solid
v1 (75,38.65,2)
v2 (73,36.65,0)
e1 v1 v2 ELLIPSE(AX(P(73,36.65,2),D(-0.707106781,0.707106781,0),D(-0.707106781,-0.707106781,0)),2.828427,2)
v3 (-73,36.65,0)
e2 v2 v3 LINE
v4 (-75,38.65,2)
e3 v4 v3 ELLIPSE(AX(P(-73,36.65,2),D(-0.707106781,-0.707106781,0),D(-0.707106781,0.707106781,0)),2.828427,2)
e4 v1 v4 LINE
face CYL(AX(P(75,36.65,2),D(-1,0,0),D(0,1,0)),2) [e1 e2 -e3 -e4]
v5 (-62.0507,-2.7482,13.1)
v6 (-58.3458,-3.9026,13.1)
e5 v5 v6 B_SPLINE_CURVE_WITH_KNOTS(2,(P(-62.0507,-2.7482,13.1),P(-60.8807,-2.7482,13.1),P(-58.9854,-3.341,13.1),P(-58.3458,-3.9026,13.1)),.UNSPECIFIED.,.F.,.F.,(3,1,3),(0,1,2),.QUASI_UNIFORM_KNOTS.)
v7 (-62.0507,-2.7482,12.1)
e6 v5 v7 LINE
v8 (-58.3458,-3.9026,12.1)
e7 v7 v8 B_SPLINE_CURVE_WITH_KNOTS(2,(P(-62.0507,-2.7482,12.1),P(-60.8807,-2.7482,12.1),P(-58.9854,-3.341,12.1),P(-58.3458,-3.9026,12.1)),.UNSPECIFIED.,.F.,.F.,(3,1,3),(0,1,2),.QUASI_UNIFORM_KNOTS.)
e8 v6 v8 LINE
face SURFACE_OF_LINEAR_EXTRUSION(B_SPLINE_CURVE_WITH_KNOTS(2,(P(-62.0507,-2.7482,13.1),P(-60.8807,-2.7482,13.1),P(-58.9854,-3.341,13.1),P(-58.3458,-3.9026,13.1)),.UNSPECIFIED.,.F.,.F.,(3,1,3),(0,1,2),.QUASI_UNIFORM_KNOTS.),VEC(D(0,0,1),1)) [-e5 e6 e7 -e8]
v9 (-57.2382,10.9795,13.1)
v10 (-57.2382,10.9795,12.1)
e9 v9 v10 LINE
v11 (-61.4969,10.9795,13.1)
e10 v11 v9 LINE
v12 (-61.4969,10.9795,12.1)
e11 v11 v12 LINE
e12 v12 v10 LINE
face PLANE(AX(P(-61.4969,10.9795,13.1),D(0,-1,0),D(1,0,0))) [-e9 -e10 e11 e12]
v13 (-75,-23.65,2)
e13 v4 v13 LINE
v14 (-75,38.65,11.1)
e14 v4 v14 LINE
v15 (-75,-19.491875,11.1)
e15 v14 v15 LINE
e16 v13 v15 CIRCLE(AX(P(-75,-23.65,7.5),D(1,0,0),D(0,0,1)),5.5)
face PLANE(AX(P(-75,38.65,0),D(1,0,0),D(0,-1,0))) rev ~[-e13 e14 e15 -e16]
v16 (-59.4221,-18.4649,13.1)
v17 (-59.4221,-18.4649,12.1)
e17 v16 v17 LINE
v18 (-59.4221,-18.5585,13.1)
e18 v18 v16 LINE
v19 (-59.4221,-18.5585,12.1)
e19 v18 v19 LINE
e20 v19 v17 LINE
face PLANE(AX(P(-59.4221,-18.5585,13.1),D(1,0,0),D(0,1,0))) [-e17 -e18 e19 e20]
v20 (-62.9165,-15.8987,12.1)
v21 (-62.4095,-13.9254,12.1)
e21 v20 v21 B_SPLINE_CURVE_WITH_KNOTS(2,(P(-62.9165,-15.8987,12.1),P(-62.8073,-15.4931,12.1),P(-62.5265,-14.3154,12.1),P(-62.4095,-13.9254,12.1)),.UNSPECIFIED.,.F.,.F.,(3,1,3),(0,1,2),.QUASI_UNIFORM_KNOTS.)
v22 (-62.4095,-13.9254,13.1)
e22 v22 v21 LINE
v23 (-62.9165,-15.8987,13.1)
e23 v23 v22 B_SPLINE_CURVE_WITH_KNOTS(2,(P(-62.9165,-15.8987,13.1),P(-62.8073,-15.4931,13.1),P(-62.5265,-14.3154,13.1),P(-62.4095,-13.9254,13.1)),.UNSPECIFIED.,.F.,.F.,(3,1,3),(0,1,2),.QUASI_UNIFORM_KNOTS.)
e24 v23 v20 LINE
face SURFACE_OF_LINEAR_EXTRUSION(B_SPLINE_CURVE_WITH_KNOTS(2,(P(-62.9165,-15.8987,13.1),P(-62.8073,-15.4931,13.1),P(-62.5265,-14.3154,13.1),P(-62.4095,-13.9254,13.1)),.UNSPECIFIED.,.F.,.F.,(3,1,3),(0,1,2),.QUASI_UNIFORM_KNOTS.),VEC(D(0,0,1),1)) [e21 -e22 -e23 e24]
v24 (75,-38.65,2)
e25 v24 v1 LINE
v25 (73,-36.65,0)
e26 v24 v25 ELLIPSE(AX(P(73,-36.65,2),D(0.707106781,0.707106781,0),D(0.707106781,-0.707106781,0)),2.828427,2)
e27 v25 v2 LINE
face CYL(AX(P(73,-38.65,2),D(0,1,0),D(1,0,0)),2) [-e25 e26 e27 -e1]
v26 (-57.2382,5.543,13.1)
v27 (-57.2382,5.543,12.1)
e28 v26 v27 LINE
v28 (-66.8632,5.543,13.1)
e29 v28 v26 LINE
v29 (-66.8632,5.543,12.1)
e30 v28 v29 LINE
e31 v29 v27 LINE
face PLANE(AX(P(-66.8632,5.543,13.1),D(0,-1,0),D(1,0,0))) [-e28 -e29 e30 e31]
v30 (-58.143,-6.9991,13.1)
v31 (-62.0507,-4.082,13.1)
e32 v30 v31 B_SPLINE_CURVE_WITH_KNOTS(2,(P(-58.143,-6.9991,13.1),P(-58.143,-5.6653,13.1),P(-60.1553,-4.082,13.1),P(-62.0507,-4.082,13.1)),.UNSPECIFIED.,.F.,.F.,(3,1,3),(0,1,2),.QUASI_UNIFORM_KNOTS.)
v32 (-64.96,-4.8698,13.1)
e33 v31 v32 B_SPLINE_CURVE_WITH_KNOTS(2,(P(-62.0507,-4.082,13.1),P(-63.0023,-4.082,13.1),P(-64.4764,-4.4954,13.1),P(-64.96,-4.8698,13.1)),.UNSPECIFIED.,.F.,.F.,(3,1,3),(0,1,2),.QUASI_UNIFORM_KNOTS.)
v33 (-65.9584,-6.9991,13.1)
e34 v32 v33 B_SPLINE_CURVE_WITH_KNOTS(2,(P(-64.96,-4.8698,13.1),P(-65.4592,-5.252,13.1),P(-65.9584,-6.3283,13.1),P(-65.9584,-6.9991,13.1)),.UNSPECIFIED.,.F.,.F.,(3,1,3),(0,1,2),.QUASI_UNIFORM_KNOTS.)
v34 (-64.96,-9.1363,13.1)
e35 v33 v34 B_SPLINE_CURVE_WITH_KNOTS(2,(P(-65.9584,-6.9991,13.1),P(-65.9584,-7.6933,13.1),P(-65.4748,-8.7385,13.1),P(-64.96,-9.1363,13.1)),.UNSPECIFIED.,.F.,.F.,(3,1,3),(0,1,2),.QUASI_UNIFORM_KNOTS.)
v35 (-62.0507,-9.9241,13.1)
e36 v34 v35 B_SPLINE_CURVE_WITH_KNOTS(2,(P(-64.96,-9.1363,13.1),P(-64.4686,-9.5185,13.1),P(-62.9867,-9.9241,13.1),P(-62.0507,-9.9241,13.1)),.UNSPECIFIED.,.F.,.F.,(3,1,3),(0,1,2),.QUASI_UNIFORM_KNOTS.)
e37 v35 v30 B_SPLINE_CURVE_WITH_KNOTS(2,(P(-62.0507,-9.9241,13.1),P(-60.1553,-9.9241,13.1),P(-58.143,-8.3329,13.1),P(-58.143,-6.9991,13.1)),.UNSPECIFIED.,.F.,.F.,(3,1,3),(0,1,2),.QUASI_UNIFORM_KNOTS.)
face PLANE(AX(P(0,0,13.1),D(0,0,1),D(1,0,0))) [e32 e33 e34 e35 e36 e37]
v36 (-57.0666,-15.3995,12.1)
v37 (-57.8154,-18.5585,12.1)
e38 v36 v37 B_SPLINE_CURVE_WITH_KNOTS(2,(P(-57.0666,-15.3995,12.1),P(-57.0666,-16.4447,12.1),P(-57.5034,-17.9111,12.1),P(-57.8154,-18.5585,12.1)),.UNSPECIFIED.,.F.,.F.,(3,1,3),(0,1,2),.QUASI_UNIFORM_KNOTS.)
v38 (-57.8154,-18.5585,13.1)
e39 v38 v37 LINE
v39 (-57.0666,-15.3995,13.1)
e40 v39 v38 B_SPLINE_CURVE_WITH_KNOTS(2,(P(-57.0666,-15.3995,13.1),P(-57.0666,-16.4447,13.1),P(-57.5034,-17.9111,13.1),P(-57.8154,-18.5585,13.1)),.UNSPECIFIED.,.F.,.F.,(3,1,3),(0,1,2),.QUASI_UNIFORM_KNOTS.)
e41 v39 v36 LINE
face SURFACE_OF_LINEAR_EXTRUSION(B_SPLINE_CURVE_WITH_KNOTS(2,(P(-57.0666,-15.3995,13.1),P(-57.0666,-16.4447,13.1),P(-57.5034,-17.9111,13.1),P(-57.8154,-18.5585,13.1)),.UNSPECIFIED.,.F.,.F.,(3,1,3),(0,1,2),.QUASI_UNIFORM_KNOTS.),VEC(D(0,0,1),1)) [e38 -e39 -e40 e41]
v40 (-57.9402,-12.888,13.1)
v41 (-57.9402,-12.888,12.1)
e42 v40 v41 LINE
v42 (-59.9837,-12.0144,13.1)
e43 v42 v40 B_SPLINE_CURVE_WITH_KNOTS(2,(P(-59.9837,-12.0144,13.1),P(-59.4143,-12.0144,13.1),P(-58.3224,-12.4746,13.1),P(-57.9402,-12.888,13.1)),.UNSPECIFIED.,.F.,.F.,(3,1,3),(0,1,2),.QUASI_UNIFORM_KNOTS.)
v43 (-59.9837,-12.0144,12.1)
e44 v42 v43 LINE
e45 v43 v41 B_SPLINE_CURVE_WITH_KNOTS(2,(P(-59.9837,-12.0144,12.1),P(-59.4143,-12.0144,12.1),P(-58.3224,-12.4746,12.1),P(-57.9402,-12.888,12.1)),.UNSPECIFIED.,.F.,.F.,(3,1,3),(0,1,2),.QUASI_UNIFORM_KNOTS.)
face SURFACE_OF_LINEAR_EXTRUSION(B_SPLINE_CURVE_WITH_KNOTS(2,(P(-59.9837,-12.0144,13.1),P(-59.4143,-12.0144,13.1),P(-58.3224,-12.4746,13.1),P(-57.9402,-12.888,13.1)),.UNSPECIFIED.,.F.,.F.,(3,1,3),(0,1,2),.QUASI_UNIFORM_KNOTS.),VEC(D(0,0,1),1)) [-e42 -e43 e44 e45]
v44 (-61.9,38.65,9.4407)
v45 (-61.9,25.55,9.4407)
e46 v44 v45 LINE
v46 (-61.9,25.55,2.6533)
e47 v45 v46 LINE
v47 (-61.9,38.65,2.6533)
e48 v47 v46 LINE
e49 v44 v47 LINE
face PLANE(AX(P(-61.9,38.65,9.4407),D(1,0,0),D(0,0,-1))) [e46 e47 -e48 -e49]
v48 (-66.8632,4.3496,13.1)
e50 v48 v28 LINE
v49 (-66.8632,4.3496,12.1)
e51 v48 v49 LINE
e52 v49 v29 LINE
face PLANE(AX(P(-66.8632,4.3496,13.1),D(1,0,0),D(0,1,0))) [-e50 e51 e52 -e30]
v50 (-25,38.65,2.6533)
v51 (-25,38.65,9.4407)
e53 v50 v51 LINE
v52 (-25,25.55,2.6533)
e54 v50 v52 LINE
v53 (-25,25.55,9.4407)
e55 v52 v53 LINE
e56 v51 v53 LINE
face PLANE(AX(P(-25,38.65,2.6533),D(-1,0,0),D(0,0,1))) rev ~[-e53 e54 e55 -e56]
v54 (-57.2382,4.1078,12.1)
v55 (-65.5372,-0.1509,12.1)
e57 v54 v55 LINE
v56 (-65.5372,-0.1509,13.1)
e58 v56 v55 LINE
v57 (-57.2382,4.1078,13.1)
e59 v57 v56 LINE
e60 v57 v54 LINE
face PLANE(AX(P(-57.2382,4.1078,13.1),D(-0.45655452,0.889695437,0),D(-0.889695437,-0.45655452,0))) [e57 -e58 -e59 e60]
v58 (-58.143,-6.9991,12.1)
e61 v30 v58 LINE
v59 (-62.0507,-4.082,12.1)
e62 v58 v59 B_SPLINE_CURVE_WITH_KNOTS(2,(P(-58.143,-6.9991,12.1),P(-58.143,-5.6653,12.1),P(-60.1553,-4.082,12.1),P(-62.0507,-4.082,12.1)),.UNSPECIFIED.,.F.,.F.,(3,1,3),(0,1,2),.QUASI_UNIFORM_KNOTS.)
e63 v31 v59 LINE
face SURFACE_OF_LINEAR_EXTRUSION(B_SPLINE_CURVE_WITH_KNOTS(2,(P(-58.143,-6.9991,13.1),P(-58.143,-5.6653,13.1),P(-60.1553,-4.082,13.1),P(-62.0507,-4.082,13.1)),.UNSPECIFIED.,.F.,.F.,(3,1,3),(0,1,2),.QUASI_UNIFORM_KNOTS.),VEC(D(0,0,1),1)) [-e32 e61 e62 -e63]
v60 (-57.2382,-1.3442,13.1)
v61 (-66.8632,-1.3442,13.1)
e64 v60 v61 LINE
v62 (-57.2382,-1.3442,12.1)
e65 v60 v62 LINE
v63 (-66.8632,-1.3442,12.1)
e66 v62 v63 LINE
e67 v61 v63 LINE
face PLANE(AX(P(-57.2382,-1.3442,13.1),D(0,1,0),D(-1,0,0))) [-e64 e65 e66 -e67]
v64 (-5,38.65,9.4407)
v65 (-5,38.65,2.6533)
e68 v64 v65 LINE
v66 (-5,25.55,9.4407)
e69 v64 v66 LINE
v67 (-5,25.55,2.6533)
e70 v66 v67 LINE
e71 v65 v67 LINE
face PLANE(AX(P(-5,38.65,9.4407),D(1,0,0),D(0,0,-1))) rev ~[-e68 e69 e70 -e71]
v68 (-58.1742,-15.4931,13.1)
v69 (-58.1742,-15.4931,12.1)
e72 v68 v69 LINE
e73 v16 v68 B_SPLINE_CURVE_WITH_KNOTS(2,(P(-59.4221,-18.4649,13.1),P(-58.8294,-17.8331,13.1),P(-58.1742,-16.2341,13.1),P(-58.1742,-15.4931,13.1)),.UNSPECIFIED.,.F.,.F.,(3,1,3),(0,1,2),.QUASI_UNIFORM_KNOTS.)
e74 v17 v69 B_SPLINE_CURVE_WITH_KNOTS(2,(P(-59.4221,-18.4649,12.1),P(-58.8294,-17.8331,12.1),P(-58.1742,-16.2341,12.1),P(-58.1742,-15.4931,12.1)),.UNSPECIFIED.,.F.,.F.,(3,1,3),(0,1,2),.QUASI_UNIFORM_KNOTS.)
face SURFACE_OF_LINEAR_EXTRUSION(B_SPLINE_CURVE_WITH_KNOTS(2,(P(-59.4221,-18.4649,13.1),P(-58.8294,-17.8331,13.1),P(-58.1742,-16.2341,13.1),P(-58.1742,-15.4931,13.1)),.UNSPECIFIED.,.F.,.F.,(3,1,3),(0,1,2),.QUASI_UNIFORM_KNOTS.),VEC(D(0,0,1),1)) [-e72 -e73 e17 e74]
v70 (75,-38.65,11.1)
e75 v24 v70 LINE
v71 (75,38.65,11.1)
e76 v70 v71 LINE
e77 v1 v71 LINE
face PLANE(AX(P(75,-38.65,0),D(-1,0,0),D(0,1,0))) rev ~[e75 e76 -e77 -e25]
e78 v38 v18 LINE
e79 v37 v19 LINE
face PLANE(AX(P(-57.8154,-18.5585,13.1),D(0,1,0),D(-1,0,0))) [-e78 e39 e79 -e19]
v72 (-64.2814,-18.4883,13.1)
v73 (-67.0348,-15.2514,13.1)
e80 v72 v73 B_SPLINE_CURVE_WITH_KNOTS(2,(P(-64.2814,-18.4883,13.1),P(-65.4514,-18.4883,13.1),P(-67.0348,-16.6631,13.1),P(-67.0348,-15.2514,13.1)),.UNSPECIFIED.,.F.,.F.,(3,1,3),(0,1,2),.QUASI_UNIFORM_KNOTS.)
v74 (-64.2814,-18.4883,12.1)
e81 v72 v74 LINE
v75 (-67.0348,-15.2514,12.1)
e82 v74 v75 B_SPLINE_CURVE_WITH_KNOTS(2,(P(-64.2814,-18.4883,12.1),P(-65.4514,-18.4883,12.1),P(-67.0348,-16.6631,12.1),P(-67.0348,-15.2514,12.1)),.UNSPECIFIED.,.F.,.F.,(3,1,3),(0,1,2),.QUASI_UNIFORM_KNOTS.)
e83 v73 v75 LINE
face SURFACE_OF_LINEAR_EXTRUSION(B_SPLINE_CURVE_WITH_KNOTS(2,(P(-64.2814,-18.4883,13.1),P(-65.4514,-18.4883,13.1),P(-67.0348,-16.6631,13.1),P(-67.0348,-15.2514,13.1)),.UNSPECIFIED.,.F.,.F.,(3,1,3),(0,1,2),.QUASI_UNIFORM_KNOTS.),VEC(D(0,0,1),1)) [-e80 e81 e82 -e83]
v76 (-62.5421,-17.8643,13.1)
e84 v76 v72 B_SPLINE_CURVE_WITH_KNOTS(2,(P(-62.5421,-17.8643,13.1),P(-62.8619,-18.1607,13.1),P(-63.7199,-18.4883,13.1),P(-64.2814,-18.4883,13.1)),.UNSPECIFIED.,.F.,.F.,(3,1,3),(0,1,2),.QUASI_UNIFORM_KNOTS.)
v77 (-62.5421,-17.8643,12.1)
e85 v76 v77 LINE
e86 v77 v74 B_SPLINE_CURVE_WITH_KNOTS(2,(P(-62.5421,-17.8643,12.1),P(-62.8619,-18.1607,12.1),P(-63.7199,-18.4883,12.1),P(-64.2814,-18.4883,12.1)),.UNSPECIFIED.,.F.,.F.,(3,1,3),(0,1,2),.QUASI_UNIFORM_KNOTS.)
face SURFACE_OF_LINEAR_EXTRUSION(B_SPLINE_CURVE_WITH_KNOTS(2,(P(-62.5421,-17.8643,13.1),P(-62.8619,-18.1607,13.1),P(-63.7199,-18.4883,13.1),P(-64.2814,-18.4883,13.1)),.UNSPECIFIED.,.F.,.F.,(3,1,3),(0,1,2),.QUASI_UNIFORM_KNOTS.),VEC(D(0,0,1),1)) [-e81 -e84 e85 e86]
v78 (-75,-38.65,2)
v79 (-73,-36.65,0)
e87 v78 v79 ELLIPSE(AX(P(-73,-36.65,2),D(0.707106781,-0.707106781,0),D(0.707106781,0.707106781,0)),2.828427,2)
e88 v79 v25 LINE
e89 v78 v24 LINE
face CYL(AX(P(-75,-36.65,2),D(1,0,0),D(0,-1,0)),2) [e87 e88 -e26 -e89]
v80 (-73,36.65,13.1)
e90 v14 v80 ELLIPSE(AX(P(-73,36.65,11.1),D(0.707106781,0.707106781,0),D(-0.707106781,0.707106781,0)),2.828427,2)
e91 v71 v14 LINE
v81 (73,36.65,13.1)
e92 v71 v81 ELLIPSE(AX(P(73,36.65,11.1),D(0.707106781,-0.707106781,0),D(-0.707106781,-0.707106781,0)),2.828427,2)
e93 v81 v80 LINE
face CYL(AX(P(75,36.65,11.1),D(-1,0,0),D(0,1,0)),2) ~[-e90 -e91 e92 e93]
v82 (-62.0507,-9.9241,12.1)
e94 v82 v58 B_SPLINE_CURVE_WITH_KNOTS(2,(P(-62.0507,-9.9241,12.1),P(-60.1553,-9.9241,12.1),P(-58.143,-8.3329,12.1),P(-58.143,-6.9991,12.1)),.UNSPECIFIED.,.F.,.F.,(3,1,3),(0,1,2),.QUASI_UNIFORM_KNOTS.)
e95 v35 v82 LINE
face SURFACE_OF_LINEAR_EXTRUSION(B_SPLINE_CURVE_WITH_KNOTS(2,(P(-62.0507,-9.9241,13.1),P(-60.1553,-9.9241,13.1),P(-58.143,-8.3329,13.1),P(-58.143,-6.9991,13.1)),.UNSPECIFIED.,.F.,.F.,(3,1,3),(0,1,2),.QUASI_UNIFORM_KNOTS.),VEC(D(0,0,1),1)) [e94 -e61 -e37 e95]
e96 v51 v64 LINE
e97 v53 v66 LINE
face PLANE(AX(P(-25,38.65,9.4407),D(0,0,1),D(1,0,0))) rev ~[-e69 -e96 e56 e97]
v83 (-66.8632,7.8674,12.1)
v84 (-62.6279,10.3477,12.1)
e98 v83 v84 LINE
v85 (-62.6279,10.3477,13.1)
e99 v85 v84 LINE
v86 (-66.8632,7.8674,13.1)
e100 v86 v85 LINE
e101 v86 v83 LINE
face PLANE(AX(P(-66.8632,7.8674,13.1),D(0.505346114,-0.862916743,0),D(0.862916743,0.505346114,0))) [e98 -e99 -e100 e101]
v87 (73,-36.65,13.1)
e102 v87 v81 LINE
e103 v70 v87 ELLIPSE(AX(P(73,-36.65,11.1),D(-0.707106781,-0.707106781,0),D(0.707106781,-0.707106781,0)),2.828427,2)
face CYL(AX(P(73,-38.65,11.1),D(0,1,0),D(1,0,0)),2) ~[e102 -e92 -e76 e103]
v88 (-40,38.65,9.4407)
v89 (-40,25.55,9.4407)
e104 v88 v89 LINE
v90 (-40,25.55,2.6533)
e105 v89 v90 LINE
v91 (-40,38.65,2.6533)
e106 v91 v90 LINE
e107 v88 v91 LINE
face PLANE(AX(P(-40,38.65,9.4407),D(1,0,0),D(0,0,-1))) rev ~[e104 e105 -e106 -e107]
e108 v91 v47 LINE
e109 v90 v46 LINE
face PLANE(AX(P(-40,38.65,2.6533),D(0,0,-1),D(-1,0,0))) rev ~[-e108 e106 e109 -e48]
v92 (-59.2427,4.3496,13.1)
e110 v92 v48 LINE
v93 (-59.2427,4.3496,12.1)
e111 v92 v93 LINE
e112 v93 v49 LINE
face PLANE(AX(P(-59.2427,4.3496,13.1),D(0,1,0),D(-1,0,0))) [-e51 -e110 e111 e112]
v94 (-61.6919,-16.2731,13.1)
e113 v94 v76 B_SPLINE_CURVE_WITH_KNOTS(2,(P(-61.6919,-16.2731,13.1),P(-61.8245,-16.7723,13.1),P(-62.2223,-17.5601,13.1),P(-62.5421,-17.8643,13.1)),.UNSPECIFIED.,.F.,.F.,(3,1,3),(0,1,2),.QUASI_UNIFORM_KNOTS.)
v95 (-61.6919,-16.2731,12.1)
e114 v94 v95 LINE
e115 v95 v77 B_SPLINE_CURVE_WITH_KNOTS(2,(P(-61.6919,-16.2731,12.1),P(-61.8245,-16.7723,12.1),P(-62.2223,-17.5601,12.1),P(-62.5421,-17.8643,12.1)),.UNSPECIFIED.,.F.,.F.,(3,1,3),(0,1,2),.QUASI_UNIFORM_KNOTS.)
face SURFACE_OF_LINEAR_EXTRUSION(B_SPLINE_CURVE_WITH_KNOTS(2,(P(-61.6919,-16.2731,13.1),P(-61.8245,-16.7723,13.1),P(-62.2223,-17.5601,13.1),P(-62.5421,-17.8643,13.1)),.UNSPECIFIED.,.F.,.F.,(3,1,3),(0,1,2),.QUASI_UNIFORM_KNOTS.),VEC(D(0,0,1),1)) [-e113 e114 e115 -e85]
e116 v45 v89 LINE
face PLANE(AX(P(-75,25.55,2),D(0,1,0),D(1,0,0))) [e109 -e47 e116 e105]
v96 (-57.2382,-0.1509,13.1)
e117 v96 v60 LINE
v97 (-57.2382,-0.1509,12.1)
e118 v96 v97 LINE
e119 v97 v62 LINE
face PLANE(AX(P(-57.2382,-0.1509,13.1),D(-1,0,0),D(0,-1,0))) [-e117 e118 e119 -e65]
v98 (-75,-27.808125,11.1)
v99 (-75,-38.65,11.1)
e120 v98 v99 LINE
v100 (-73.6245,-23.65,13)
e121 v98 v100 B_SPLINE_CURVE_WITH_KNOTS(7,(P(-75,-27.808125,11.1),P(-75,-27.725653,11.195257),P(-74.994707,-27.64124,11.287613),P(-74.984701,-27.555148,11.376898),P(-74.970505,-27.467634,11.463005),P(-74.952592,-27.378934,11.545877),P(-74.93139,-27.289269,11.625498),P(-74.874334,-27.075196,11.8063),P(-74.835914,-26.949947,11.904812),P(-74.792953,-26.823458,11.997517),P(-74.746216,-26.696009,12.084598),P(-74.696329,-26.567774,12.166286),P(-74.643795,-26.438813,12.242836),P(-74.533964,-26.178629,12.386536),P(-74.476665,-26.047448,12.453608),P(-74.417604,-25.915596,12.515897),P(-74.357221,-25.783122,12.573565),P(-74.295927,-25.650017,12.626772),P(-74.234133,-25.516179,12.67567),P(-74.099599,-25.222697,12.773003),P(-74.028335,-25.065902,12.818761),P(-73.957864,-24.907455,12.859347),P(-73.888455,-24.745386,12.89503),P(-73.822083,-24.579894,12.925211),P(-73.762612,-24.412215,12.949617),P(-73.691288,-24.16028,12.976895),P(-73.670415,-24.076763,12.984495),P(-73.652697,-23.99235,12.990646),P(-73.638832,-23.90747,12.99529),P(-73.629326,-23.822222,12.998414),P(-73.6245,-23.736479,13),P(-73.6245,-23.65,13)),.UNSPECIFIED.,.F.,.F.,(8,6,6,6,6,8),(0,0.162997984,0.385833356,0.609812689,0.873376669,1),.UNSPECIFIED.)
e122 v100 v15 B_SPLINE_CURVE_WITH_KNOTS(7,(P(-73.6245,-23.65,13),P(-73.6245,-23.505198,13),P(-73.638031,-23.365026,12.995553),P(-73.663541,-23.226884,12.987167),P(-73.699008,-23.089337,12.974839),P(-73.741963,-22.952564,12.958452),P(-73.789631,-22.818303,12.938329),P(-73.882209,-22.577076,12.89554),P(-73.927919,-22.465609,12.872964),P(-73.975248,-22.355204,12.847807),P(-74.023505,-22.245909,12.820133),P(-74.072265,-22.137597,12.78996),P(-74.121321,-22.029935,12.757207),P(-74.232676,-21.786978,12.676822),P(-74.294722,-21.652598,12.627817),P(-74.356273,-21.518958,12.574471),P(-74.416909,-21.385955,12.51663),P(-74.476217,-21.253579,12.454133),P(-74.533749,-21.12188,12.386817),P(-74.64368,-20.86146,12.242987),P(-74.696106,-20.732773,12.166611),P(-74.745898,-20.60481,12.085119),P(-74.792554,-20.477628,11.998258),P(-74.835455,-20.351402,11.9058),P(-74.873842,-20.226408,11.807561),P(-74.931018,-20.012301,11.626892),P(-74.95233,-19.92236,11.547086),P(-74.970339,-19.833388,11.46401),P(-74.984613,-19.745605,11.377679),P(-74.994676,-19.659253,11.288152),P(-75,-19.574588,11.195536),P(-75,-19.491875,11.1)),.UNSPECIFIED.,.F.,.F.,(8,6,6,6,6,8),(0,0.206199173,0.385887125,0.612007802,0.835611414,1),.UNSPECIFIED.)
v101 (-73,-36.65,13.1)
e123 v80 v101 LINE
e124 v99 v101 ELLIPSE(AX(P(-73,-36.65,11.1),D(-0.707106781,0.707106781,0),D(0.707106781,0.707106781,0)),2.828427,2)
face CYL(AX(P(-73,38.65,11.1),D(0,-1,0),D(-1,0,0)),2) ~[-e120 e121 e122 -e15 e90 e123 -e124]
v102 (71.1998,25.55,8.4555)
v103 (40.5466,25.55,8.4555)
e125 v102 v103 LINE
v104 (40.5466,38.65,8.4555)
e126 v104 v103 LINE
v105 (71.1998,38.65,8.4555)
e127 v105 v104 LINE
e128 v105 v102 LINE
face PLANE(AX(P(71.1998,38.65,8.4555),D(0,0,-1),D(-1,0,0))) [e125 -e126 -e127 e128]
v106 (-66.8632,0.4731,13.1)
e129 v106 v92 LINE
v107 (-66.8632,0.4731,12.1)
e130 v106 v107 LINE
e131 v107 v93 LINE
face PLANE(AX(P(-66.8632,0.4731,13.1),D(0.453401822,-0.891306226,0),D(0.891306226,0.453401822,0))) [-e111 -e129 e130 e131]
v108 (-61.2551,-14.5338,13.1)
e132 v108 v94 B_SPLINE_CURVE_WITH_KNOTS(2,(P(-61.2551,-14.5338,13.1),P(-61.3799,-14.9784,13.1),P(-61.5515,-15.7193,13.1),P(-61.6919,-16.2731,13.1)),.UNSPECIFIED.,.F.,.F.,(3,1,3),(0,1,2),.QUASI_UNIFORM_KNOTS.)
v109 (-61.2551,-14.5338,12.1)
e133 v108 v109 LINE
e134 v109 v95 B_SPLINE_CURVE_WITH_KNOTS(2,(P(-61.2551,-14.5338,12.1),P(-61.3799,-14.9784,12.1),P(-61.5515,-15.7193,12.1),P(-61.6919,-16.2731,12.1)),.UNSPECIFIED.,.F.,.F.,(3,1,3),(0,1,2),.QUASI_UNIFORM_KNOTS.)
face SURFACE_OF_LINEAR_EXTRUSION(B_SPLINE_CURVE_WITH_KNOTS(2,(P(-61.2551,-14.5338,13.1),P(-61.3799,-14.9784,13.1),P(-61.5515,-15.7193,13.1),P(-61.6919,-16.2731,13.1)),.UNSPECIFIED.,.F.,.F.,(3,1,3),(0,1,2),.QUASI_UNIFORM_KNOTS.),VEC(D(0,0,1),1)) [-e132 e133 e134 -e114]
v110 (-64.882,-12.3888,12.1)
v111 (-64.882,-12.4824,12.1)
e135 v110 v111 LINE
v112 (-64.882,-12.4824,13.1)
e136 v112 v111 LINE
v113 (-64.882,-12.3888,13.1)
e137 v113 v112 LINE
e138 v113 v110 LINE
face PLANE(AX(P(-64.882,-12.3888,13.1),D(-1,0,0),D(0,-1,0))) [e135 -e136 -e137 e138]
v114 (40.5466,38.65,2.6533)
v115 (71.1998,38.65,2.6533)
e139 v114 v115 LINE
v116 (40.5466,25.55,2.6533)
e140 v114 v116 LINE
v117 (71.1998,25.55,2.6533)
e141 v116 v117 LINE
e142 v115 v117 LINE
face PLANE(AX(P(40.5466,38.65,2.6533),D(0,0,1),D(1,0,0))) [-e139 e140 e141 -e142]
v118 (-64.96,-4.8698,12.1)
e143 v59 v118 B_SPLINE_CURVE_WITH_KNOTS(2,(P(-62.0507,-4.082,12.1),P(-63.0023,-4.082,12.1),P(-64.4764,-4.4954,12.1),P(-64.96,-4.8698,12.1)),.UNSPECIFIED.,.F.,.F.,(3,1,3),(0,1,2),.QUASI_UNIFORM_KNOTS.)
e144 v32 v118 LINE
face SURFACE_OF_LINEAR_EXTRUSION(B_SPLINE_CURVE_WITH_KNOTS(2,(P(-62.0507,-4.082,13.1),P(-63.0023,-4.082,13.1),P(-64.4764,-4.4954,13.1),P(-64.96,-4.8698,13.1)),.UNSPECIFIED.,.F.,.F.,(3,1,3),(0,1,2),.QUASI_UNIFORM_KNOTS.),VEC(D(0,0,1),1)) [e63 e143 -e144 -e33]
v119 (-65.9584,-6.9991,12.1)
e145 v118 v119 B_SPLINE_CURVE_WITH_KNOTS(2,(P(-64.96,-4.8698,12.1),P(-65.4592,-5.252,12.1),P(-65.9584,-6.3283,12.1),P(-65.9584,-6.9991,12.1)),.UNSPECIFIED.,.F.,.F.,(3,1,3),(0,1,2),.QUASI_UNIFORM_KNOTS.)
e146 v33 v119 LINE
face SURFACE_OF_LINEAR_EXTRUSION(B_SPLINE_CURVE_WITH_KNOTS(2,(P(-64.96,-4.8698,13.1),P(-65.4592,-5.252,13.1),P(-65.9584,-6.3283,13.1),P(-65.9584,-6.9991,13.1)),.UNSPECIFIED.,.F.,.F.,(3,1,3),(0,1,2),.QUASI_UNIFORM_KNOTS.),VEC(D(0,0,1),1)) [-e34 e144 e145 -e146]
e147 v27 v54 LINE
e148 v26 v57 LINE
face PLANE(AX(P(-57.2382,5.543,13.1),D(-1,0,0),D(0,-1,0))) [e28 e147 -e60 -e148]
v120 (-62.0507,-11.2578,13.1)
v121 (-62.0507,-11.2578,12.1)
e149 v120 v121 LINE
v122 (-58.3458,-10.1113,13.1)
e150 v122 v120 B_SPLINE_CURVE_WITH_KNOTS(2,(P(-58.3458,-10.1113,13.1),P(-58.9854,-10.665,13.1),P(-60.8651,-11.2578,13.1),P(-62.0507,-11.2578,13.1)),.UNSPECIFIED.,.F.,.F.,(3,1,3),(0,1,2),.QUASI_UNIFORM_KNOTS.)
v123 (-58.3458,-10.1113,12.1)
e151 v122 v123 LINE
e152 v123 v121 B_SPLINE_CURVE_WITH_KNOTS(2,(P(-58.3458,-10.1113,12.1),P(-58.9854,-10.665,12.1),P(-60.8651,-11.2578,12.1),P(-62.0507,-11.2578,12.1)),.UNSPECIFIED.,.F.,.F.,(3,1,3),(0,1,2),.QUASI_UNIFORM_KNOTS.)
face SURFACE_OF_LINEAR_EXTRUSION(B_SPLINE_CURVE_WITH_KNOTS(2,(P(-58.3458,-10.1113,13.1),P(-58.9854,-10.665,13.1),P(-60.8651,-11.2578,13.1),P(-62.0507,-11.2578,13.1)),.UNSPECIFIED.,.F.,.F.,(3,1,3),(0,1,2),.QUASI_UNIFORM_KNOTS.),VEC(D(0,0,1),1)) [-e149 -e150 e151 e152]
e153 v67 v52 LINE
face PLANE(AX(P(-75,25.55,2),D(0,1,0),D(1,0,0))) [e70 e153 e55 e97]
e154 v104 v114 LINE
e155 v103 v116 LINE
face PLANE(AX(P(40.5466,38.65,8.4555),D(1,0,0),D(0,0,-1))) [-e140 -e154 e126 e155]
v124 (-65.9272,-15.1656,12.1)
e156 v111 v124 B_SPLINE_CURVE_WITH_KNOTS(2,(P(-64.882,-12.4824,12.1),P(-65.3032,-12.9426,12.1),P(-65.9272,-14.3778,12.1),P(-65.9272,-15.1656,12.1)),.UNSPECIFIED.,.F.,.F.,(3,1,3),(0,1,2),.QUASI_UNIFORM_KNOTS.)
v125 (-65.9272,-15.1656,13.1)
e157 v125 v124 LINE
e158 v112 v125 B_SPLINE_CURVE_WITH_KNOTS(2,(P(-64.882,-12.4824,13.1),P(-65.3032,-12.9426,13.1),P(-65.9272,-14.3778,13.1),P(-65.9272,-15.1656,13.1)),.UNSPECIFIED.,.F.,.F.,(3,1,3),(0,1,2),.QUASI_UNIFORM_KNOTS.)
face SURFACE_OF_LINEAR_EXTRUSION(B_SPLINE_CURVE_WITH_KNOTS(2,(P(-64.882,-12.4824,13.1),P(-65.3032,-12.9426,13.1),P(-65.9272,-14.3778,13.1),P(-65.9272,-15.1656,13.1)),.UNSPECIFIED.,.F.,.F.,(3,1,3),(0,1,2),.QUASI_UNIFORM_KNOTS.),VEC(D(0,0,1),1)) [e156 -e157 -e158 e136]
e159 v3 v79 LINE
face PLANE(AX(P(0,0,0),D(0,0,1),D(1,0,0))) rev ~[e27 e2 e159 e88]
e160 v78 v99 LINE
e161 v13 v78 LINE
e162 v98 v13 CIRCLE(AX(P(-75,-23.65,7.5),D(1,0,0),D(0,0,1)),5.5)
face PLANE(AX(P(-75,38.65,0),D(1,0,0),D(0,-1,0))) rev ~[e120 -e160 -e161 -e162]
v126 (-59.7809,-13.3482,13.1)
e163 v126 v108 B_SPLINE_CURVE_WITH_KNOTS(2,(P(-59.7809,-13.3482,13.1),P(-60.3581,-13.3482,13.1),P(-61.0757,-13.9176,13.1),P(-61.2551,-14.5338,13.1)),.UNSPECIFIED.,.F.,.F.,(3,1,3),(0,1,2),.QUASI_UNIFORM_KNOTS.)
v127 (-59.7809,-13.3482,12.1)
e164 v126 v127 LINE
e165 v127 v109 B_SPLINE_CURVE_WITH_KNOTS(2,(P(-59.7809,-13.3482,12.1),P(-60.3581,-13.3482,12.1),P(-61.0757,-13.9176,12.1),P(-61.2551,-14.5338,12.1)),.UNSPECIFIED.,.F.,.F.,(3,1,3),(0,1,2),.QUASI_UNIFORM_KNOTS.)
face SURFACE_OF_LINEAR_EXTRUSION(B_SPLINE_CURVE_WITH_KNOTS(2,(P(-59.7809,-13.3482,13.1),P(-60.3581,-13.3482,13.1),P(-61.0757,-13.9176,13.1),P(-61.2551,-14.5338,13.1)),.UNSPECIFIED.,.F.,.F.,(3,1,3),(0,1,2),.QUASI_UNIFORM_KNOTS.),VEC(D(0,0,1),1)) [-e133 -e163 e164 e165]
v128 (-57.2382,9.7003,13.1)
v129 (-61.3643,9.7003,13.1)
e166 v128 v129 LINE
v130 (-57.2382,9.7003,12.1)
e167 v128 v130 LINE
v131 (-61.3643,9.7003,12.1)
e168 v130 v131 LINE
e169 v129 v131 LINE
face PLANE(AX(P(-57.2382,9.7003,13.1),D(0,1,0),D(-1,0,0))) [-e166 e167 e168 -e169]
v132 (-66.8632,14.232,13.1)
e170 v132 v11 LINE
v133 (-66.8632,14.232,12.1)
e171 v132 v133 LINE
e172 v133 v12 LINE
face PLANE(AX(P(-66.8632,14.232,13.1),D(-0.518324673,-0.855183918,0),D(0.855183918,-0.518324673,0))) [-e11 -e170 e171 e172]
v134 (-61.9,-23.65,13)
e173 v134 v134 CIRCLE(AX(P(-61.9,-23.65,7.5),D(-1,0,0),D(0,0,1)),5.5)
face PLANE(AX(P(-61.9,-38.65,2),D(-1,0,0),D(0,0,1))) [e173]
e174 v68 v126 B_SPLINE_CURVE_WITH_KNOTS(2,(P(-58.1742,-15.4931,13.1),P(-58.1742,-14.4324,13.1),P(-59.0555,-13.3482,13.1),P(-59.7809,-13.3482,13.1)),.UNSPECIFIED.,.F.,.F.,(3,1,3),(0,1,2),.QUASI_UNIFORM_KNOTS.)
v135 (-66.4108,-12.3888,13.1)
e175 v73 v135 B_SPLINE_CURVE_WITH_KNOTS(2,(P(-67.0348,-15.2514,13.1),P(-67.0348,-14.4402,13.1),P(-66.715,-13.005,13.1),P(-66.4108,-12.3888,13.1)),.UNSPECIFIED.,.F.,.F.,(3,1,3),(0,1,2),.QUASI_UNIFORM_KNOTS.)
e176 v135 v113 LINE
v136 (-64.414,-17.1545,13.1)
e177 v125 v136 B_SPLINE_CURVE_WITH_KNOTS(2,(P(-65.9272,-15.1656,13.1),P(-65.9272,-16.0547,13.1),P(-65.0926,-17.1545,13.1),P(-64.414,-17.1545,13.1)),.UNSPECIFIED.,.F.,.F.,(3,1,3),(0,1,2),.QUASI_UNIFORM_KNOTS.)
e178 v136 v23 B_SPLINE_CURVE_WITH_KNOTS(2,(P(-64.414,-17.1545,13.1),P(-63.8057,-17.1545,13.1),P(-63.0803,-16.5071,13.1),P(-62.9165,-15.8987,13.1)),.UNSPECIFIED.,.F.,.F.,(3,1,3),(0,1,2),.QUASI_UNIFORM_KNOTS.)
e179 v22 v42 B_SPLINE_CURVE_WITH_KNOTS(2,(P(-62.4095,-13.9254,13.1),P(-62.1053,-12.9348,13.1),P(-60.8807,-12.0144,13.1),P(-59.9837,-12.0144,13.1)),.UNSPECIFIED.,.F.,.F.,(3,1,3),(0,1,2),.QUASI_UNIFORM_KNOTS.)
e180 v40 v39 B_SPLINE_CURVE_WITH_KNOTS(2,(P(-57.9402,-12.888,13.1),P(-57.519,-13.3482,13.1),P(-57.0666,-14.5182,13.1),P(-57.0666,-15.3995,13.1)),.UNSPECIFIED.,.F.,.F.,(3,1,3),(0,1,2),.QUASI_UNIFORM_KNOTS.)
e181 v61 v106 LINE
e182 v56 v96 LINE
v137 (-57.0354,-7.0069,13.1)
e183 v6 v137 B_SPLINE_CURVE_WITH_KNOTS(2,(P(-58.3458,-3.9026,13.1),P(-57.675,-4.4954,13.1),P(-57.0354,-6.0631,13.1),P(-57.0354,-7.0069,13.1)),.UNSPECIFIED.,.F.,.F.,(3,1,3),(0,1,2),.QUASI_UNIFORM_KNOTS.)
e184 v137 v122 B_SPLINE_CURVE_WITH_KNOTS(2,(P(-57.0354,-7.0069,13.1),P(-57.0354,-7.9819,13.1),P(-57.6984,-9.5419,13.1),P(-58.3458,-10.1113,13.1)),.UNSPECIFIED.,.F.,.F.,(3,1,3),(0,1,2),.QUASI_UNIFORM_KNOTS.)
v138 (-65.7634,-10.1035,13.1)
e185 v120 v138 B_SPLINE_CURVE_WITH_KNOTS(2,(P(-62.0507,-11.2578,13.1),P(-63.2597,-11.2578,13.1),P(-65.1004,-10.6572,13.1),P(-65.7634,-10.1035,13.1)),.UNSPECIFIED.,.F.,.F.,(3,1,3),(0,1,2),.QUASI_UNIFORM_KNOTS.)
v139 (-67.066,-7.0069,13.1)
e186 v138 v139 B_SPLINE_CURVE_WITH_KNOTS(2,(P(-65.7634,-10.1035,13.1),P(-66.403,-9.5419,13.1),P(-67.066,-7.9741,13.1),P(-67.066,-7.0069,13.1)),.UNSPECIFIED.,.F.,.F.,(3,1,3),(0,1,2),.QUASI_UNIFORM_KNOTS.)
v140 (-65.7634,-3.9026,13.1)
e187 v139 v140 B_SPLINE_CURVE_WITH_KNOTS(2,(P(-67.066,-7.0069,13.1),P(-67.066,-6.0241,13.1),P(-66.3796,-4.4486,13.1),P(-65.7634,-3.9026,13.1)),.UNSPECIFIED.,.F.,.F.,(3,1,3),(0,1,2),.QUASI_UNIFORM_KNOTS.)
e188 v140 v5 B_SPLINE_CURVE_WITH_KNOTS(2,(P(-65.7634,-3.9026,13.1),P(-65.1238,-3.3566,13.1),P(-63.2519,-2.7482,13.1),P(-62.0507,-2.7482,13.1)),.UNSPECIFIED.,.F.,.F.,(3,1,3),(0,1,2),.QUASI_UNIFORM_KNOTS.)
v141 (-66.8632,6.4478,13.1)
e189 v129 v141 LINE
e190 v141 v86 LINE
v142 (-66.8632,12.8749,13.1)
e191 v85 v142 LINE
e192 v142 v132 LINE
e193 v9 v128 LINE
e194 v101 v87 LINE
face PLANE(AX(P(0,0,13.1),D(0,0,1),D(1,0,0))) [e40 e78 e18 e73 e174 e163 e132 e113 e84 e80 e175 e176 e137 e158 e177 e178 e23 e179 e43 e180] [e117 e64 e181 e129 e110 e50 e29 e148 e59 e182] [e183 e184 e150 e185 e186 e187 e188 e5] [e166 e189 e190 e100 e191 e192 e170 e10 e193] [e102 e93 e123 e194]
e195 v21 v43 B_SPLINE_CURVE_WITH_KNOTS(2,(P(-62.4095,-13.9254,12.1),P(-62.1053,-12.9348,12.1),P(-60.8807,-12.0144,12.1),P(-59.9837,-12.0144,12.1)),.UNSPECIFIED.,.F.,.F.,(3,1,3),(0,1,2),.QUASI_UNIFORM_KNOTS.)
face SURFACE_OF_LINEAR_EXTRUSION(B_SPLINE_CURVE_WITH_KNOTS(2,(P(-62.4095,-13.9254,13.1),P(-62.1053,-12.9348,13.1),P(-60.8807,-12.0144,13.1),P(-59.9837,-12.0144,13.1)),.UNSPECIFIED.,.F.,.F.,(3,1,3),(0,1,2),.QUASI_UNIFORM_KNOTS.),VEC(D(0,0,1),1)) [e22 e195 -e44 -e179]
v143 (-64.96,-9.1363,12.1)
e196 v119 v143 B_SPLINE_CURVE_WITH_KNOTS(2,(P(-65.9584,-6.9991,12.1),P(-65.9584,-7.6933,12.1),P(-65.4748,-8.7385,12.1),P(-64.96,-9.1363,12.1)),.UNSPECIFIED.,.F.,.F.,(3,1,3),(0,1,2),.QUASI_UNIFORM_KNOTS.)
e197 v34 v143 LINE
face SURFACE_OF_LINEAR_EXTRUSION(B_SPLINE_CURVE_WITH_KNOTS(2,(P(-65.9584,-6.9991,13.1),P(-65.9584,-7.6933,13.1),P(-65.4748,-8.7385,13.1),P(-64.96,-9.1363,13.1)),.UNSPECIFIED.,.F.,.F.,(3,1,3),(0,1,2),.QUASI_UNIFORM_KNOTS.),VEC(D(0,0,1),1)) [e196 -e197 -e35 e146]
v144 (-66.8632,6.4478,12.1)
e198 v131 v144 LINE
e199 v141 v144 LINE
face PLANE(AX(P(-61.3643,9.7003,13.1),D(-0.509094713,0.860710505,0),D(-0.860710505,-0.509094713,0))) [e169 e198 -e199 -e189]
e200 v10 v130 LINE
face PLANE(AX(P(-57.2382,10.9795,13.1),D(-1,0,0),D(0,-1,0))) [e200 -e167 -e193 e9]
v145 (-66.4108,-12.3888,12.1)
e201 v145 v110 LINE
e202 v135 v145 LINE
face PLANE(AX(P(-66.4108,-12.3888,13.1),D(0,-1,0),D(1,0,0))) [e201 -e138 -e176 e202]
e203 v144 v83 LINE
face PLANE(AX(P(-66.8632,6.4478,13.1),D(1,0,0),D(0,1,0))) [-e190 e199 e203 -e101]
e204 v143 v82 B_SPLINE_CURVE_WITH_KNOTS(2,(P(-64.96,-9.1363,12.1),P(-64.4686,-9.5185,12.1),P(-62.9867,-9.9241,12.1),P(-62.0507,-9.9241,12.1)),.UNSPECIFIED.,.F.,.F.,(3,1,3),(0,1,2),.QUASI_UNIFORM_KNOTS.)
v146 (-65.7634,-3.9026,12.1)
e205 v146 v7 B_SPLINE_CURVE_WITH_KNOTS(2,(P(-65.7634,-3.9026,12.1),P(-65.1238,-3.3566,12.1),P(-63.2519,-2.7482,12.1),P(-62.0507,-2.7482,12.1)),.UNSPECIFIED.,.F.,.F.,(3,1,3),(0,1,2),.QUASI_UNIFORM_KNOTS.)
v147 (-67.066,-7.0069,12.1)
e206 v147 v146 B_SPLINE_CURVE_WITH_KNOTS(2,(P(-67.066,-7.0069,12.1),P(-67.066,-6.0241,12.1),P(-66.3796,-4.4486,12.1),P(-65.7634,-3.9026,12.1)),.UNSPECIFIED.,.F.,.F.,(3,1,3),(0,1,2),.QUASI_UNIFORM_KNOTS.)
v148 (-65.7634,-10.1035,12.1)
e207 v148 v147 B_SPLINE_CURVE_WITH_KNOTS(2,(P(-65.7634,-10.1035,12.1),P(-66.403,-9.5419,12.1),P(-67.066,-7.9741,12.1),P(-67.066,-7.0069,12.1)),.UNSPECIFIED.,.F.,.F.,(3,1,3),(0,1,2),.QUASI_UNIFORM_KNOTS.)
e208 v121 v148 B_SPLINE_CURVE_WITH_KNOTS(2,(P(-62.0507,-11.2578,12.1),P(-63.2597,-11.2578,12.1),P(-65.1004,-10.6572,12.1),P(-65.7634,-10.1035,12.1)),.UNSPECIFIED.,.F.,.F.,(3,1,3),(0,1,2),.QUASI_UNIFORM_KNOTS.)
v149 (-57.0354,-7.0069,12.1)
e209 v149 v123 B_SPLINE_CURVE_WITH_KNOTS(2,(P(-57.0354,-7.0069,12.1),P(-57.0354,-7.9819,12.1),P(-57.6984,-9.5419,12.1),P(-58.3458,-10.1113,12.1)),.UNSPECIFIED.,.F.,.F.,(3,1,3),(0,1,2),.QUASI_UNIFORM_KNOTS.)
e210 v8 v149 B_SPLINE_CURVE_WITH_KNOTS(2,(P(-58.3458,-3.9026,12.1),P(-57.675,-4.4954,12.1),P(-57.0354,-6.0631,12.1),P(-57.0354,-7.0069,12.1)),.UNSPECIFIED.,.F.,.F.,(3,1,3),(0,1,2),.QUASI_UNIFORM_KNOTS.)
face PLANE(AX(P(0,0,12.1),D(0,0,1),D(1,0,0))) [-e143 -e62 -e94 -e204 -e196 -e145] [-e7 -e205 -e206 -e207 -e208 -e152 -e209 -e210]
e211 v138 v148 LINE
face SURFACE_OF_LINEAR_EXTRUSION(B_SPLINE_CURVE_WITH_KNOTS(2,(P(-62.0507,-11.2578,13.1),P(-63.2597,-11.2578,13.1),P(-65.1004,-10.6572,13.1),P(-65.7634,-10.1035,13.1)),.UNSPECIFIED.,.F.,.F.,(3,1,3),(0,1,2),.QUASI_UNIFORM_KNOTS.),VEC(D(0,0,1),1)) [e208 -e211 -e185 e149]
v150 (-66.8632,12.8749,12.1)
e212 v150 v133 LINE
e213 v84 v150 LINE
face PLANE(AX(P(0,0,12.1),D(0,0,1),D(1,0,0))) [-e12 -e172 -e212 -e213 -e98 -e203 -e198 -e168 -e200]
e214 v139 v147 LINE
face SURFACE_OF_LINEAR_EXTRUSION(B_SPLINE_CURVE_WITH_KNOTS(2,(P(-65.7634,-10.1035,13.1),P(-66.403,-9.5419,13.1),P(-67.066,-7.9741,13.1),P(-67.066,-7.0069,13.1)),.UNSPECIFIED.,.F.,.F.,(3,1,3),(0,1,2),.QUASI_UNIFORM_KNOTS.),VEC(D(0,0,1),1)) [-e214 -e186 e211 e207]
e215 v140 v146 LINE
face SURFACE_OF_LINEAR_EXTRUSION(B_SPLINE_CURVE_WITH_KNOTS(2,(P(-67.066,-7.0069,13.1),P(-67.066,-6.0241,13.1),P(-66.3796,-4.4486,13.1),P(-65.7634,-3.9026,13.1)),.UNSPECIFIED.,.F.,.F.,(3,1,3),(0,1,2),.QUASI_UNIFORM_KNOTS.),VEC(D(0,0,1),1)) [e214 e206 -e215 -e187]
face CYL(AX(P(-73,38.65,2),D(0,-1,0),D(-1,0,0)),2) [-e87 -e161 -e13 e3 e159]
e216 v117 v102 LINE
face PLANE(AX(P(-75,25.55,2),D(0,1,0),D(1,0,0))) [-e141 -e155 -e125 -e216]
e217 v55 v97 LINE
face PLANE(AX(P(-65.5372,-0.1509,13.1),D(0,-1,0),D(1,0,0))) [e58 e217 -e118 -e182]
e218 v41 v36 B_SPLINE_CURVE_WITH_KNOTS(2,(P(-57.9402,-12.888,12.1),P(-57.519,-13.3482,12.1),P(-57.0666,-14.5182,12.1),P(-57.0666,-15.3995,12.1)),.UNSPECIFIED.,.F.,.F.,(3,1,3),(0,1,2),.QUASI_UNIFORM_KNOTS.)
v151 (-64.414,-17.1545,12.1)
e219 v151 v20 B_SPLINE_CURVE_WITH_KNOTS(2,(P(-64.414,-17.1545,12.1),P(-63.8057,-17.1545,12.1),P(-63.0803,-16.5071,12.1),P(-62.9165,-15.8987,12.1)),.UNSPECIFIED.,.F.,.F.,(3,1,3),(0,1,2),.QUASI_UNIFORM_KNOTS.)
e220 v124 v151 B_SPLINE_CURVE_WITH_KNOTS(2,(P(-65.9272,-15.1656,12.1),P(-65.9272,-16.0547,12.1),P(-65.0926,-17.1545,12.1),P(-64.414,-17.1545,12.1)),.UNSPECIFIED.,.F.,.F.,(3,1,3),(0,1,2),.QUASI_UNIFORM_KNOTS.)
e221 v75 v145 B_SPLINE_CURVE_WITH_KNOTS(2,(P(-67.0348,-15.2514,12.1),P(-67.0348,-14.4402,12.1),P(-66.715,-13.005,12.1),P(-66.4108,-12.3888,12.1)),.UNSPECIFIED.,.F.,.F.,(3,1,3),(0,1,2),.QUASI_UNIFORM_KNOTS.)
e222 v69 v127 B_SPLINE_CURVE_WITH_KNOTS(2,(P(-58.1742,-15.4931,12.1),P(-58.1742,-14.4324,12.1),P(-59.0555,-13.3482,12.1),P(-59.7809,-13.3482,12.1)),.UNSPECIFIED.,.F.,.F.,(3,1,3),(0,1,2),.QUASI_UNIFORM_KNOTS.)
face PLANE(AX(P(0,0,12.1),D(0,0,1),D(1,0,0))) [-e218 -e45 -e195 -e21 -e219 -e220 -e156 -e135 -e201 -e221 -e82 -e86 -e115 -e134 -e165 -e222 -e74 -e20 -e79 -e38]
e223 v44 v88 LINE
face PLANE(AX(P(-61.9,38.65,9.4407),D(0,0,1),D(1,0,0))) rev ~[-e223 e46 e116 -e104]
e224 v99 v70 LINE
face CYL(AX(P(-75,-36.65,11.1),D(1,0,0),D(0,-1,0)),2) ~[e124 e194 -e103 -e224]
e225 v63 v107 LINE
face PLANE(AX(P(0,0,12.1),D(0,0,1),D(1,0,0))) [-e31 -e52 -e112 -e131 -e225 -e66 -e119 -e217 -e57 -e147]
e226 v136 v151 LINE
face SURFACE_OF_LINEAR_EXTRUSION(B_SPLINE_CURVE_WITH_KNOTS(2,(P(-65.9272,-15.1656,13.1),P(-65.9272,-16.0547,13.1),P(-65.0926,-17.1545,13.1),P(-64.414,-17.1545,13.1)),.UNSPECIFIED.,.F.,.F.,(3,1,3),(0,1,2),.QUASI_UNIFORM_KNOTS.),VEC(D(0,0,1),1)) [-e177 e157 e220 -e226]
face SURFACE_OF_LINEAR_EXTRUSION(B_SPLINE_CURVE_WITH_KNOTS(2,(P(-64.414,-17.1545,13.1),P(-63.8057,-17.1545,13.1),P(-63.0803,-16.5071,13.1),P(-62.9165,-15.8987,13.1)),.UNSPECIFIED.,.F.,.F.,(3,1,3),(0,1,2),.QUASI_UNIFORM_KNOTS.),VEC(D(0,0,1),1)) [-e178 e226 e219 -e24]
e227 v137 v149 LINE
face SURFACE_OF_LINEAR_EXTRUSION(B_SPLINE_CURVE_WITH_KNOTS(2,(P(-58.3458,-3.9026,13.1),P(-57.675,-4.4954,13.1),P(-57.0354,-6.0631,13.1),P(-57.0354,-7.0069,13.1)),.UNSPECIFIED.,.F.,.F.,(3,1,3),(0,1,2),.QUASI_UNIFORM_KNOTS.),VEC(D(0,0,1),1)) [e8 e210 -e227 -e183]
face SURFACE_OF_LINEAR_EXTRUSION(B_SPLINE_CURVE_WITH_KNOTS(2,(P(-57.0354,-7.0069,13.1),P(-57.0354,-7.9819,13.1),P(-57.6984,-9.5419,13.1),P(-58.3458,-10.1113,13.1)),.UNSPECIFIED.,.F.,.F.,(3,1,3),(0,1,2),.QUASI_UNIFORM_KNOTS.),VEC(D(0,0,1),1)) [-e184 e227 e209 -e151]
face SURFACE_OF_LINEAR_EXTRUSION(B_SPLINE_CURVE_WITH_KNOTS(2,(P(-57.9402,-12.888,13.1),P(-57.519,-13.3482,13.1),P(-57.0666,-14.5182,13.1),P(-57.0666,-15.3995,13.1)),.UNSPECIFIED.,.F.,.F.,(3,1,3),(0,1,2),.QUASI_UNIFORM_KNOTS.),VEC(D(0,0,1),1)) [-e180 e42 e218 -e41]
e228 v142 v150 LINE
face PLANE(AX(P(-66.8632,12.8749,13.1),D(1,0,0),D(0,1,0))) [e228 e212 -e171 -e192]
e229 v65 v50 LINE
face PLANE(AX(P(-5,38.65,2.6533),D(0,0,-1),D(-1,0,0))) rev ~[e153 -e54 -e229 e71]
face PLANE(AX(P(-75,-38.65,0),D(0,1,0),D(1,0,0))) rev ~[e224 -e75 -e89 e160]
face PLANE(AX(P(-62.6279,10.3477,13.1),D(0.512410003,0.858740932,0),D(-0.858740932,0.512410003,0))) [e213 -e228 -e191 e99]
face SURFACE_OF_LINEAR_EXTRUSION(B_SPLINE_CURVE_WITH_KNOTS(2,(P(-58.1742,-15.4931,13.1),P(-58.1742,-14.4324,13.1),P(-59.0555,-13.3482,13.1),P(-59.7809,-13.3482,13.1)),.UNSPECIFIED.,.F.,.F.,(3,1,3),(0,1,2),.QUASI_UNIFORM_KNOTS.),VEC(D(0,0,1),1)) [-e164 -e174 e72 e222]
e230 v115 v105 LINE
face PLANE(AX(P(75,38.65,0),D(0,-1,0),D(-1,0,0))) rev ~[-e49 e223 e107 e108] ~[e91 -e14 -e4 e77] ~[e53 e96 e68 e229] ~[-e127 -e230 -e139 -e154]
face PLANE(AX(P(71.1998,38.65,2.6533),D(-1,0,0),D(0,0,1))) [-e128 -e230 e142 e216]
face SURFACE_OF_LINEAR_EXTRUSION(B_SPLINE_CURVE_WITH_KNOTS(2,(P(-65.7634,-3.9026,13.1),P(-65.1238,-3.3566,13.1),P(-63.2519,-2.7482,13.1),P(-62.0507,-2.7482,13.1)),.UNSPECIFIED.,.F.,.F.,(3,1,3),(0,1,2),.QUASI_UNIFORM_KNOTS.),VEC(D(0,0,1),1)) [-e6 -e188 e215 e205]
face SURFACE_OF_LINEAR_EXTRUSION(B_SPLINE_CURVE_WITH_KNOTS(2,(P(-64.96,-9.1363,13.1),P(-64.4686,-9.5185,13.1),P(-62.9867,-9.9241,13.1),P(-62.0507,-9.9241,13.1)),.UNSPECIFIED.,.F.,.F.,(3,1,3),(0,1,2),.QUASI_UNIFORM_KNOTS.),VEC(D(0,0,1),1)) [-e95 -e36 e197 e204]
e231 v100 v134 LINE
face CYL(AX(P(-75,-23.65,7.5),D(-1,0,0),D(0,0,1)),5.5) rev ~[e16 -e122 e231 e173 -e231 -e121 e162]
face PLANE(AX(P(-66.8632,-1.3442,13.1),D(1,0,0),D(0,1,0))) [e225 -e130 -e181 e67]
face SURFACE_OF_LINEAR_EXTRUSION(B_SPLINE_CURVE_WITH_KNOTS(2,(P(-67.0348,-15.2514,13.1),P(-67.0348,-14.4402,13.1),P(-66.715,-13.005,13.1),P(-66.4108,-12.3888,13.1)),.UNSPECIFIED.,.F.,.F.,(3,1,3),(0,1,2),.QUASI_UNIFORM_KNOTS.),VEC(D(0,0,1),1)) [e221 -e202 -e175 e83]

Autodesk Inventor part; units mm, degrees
ref_plane "YZ Plane" through (0, 0, 0) normal (1, 0, 0) x (0, 1, 0)
ref_plane "XZ Plane" through (0, 0, 0) normal (0, 1, 0) x (-1, 0, 0)
ref_plane "XY Plane" through (0, 0, 0) normal (0, 0, 1) x (1, 0, 0)
sketch "Skizze1" plane through (0, 0, 0) normal (0, 0, 1) x (1, 0, 0)
  line L0 (75, 38.65) -> (-75, 38.65)
  line L1 (-75, 38.65) -> (-75, -38.65)
  line L2 (-75, -38.65) -> (75, -38.65)
  line L3 (75, -38.65) -> (75, 38.65)
  line L4 (75, 38.65) -> (-75, -38.65) construction
  line L5 (-75, 38.65) -> (75, -38.65) construction
  point P0 (0, 0)
  dimension "d0" = 150
  dimension "d1" = 77.3
extrude "Extrusion1" add sketch "Skizze1" along normal blind 13.1
fillet "Rundung1" radius 2 8 edges at (0, 38.65, 13.1) (0, 38.65, 0) (0, -38.65, 13.1) (0, -38.65, 0) (75, 0, 13.1) (75, 0, 0) (-75, 0, 13.1) (-75, 0, 0)
sketch "Skizze2" plane through (-75, -38.65, 2) normal (-1, 0, 0) x (0, 0, 1)
  line L0 (0, 0) -> (0, 77.3) projected
  line L1 (0, 0) -> (9.1, 0) projected
  line L2 (9.1, 77.3) -> (9.1, 0) projected
  line L3 (0, 77.3) -> (9.1, 77.3) projected
  circle A0 centre (5.5, 15) radius 5.5
  line L4 (-2, 75.3) -> (-2, 2) projected
  point P0 (-2, 38.65)
  dimension "d5" = 7.5
  dimension "d6" = 15
extrude "Extrusion2" cut sketch "Skizze2" against normal blind 13.1 contours A0 L2 | A0 L2
sketch "Skizze3" plane through (-75, 38.65, 2) normal (0, 1, 0) x (1, 0, 0)
  line L0 (13.1, -11) -> (13.1, 0) projected
  line L1 (13.1, -7.4407) -> (35, -7.4407)
  line L2 (35, -7.4407) -> (35, -0.6533)
  line L3 (35, -0.6533) -> (13.1, -0.6533)
  line L4 (13.1, -0.6533) -> (13.1, -7.4407)
  line L5 (50, -7.4407) -> (70, -7.4407)
  line L6 (70, -7.4407) -> (70, -0.6533)
  line L7 (70, -0.6533) -> (50, -0.6533)
  line L8 (50, -0.6533) -> (50, -7.4407)
  line L9 (146.1998, -6.4555) -> (115.5466, -6.4555)
  line L10 (115.5466, -6.4555) -> (115.5466, -0.6533)
  line L11 (115.5466, -0.6533) -> (146.1998, -0.6533)
  line L12 (146.1998, -0.6533) -> (146.1998, -6.4555)
  line L13 (0, 0) -> (0, -9.1) projected
  point P0 (75, 2)
  dimension "d11" = 35
  dimension "d12" = 50
  dimension "d13" = 70
extrude "Extrusion3" cut sketch "Skizze3" against normal blind 13.1
sketch "Skizze4" plane through (0, 0, 13.1) normal (0, 0, 1) x (1, 0, 0)
  line L0 (-67.066, -19.0577) -> (-67.066, 14.3022) construction
  line L1 (-67.066, 14.3022) -> (-57.0354, 14.3022) construction
  line L2 (-57.0354, 14.3022) -> (-57.0354, -19.0577) construction
  line L3 (-57.0354, -19.0577) -> (-67.066, -19.0577) construction
  spline S0 degree 2 poles (-57.0666, -15.3995) (-57.0666, -16.4447) (-57.5034, -17.9111) (-57.8154, -18.5585) knots 0 0 0 1 2 2 2
  line L4 (-57.8154, -18.5585) -> (-59.4221, -18.5585)
  line L5 (-59.4221, -18.5585) -> (-59.4221, -18.4649)
  spline S1 degree 2 poles (-59.4221, -18.4649) (-58.8294, -17.8331) (-58.1742, -16.2341) (-58.1742, -15.4931) knots 0 0 0 1 2 2 2
  spline S2 degree 2 poles (-58.1742, -15.4931) (-58.1742, -14.4324) (-59.0555, -13.3482) (-59.7809, -13.3482) knots 0 0 0 1 2 2 2
  spline S3 degree 2 poles (-59.7809, -13.3482) (-60.3581, -13.3482) (-61.0757, -13.9176) (-61.2551, -14.5338) knots 0 0 0 1 2 2 2
  spline S4 degree 2 poles (-61.2551, -14.5338) (-61.3799, -14.9784) (-61.5515, -15.7193) (-61.6919, -16.2731) knots 0 0 0 1 2 2 2
  spline S5 degree 2 poles (-61.6919, -16.2731) (-61.8245, -16.7723) (-62.2223, -17.5601) (-62.5421, -17.8643) knots 0 0 0 1 2 2 2
  spline S6 degree 2 poles (-62.5421, -17.8643) (-62.8619, -18.1607) (-63.7199, -18.4883) (-64.2814, -18.4883) knots 0 0 0 1 2 2 2
  spline S7 degree 2 poles (-64.2814, -18.4883) (-65.4514, -18.4883) (-67.0348, -16.6631) (-67.0348, -15.2514) knots 0 0 0 1 2 2 2
  spline S8 degree 2 poles (-67.0348, -15.2514) (-67.0348, -14.4402) (-66.715, -13.005) (-66.4108, -12.3888) knots 0 0 0 1 2 2 2
  line L6 (-66.4108, -12.3888) -> (-64.882, -12.3888)
  line L7 (-64.882, -12.3888) -> (-64.882, -12.4824)
  spline S9 degree 2 poles (-64.882, -12.4824) (-65.3032, -12.9426) (-65.9272, -14.3778) (-65.9272, -15.1656) knots 0 0 0 1 2 2 2
  spline S10 degree 2 poles (-65.9272, -15.1656) (-65.9272, -16.0547) (-65.0926, -17.1545) (-64.414, -17.1545) knots 0 0 0 1 2 2 2
  spline S11 degree 2 poles (-64.414, -17.1545) (-63.8057, -17.1545) (-63.0803, -16.5071) (-62.9165, -15.8987) knots 0 0 0 1 2 2 2
  spline S12 degree 2 poles (-62.9165, -15.8987) (-62.8073, -15.4931) (-62.5265, -14.3154) (-62.4095, -13.9254) knots 0 0 0 1 2 2 2
  spline S13 degree 2 poles (-62.4095, -13.9254) (-62.1053, -12.9348) (-60.8807, -12.0144) (-59.9837, -12.0144) knots 0 0 0 1 2 2 2
  spline S14 degree 2 poles (-59.9837, -12.0144) (-59.4143, -12.0144) (-58.3224, -12.4746) (-57.9402, -12.888) knots 0 0 0 1 2 2 2
  spline S15 degree 2 poles (-57.9402, -12.888) (-57.519, -13.3482) (-57.0666, -14.5182) (-57.0666, -15.3995) knots 0 0 0 1 2 2 2
  spline S16 degree 2 poles (-65.7634, -3.9026) (-65.1238, -3.3566) (-63.2519, -2.7482) (-62.0507, -2.7482) knots 0 0 0 1 2 2 2
  spline S17 degree 2 poles (-62.0507, -2.7482) (-60.8807, -2.7482) (-58.9854, -3.341) (-58.3458, -3.9026) knots 0 0 0 1 2 2 2
  spline S18 degree 2 poles (-58.3458, -3.9026) (-57.675, -4.4954) (-57.0354, -6.0631) (-57.0354, -7.0069) knots 0 0 0 1 2 2 2
  spline S19 degree 2 poles (-57.0354, -7.0069) (-57.0354, -7.9819) (-57.6984, -9.5419) (-58.3458, -10.1113) knots 0 0 0 1 2 2 2
  spline S20 degree 2 poles (-58.3458, -10.1113) (-58.9854, -10.665) (-60.8651, -11.2578) (-62.0507, -11.2578) knots 0 0 0 1 2 2 2
  spline S21 degree 2 poles (-62.0507, -11.2578) (-63.2597, -11.2578) (-65.1004, -10.6572) (-65.7634, -10.1035) knots 0 0 0 1 2 2 2
  spline S22 degree 2 poles (-65.7634, -10.1035) (-66.403, -9.5419) (-67.066, -7.9741) (-67.066, -7.0069) knots 0 0 0 1 2 2 2
  spline S23 degree 2 poles (-67.066, -7.0069) (-67.066, -6.0241) (-66.3796, -4.4486) (-65.7634, -3.9026) knots 0 0 0 1 2 2 2
  spline S24 degree 2 poles (-62.0507, -4.082) (-63.0023, -4.082) (-64.4764, -4.4954) (-64.96, -4.8698) knots 0 0 0 1 2 2 2
  spline S25 degree 2 poles (-64.96, -4.8698) (-65.4592, -5.252) (-65.9584, -6.3283) (-65.9584, -6.9991) knots 0 0 0 1 2 2 2
  spline S26 degree 2 poles (-65.9584, -6.9991) (-65.9584, -7.6933) (-65.4748, -8.7385) (-64.96, -9.1363) knots 0 0 0 1 2 2 2
  spline S27 degree 2 poles (-64.96, -9.1363) (-64.4686, -9.5185) (-62.9867, -9.9241) (-62.0507, -9.9241) knots 0 0 0 1 2 2 2
  spline S28 degree 2 poles (-62.0507, -9.9241) (-60.1553, -9.9241) (-58.143, -8.3329) (-58.143, -6.9991) knots 0 0 0 1 2 2 2
  spline S29 degree 2 poles (-58.143, -6.9991) (-58.143, -5.6653) (-60.1553, -4.082) (-62.0507, -4.082) knots 0 0 0 1 2 2 2
  line L8 (-57.2382, 5.543) -> (-57.2382, 4.1078)
  line L9 (-57.2382, 4.1078) -> (-65.5372, -0.1509)
  line L10 (-65.5372, -0.1509) -> (-57.2382, -0.1509)
  line L11 (-57.2382, -0.1509) -> (-57.2382, -1.3442)
  line L12 (-57.2382, -1.3442) -> (-66.8632, -1.3442)
  line L13 (-66.8632, -1.3442) -> (-66.8632, 0.4731)
  line L14 (-66.8632, 0.4731) -> (-59.2427, 4.3496)
  line L15 (-59.2427, 4.3496) -> (-66.8632, 4.3496)
  line L16 (-66.8632, 4.3496) -> (-66.8632, 5.543)
  line L17 (-66.8632, 5.543) -> (-57.2382, 5.543)
  line L18 (-66.8632, 14.232) -> (-61.4969, 10.9795)
  line L19 (-61.4969, 10.9795) -> (-57.2382, 10.9795)
  line L20 (-57.2382, 10.9795) -> (-57.2382, 9.7003)
  line L21 (-57.2382, 9.7003) -> (-61.3643, 9.7003)
  line L22 (-61.3643, 9.7003) -> (-66.8632, 6.4478)
  line L23 (-66.8632, 6.4478) -> (-66.8632, 7.8674)
  line L24 (-66.8632, 7.8674) -> (-62.6279, 10.3477)
  line L25 (-62.6279, 10.3477) -> (-66.8632, 12.8749)
  line L26 (-66.8632, 12.8749) -> (-66.8632, 14.232)
  point P0 (0, 0)
extrude "Extrusion4" cut sketch "Skizze4" against normal blind 1
properties part number "00_Sony_MDL_Projector"
